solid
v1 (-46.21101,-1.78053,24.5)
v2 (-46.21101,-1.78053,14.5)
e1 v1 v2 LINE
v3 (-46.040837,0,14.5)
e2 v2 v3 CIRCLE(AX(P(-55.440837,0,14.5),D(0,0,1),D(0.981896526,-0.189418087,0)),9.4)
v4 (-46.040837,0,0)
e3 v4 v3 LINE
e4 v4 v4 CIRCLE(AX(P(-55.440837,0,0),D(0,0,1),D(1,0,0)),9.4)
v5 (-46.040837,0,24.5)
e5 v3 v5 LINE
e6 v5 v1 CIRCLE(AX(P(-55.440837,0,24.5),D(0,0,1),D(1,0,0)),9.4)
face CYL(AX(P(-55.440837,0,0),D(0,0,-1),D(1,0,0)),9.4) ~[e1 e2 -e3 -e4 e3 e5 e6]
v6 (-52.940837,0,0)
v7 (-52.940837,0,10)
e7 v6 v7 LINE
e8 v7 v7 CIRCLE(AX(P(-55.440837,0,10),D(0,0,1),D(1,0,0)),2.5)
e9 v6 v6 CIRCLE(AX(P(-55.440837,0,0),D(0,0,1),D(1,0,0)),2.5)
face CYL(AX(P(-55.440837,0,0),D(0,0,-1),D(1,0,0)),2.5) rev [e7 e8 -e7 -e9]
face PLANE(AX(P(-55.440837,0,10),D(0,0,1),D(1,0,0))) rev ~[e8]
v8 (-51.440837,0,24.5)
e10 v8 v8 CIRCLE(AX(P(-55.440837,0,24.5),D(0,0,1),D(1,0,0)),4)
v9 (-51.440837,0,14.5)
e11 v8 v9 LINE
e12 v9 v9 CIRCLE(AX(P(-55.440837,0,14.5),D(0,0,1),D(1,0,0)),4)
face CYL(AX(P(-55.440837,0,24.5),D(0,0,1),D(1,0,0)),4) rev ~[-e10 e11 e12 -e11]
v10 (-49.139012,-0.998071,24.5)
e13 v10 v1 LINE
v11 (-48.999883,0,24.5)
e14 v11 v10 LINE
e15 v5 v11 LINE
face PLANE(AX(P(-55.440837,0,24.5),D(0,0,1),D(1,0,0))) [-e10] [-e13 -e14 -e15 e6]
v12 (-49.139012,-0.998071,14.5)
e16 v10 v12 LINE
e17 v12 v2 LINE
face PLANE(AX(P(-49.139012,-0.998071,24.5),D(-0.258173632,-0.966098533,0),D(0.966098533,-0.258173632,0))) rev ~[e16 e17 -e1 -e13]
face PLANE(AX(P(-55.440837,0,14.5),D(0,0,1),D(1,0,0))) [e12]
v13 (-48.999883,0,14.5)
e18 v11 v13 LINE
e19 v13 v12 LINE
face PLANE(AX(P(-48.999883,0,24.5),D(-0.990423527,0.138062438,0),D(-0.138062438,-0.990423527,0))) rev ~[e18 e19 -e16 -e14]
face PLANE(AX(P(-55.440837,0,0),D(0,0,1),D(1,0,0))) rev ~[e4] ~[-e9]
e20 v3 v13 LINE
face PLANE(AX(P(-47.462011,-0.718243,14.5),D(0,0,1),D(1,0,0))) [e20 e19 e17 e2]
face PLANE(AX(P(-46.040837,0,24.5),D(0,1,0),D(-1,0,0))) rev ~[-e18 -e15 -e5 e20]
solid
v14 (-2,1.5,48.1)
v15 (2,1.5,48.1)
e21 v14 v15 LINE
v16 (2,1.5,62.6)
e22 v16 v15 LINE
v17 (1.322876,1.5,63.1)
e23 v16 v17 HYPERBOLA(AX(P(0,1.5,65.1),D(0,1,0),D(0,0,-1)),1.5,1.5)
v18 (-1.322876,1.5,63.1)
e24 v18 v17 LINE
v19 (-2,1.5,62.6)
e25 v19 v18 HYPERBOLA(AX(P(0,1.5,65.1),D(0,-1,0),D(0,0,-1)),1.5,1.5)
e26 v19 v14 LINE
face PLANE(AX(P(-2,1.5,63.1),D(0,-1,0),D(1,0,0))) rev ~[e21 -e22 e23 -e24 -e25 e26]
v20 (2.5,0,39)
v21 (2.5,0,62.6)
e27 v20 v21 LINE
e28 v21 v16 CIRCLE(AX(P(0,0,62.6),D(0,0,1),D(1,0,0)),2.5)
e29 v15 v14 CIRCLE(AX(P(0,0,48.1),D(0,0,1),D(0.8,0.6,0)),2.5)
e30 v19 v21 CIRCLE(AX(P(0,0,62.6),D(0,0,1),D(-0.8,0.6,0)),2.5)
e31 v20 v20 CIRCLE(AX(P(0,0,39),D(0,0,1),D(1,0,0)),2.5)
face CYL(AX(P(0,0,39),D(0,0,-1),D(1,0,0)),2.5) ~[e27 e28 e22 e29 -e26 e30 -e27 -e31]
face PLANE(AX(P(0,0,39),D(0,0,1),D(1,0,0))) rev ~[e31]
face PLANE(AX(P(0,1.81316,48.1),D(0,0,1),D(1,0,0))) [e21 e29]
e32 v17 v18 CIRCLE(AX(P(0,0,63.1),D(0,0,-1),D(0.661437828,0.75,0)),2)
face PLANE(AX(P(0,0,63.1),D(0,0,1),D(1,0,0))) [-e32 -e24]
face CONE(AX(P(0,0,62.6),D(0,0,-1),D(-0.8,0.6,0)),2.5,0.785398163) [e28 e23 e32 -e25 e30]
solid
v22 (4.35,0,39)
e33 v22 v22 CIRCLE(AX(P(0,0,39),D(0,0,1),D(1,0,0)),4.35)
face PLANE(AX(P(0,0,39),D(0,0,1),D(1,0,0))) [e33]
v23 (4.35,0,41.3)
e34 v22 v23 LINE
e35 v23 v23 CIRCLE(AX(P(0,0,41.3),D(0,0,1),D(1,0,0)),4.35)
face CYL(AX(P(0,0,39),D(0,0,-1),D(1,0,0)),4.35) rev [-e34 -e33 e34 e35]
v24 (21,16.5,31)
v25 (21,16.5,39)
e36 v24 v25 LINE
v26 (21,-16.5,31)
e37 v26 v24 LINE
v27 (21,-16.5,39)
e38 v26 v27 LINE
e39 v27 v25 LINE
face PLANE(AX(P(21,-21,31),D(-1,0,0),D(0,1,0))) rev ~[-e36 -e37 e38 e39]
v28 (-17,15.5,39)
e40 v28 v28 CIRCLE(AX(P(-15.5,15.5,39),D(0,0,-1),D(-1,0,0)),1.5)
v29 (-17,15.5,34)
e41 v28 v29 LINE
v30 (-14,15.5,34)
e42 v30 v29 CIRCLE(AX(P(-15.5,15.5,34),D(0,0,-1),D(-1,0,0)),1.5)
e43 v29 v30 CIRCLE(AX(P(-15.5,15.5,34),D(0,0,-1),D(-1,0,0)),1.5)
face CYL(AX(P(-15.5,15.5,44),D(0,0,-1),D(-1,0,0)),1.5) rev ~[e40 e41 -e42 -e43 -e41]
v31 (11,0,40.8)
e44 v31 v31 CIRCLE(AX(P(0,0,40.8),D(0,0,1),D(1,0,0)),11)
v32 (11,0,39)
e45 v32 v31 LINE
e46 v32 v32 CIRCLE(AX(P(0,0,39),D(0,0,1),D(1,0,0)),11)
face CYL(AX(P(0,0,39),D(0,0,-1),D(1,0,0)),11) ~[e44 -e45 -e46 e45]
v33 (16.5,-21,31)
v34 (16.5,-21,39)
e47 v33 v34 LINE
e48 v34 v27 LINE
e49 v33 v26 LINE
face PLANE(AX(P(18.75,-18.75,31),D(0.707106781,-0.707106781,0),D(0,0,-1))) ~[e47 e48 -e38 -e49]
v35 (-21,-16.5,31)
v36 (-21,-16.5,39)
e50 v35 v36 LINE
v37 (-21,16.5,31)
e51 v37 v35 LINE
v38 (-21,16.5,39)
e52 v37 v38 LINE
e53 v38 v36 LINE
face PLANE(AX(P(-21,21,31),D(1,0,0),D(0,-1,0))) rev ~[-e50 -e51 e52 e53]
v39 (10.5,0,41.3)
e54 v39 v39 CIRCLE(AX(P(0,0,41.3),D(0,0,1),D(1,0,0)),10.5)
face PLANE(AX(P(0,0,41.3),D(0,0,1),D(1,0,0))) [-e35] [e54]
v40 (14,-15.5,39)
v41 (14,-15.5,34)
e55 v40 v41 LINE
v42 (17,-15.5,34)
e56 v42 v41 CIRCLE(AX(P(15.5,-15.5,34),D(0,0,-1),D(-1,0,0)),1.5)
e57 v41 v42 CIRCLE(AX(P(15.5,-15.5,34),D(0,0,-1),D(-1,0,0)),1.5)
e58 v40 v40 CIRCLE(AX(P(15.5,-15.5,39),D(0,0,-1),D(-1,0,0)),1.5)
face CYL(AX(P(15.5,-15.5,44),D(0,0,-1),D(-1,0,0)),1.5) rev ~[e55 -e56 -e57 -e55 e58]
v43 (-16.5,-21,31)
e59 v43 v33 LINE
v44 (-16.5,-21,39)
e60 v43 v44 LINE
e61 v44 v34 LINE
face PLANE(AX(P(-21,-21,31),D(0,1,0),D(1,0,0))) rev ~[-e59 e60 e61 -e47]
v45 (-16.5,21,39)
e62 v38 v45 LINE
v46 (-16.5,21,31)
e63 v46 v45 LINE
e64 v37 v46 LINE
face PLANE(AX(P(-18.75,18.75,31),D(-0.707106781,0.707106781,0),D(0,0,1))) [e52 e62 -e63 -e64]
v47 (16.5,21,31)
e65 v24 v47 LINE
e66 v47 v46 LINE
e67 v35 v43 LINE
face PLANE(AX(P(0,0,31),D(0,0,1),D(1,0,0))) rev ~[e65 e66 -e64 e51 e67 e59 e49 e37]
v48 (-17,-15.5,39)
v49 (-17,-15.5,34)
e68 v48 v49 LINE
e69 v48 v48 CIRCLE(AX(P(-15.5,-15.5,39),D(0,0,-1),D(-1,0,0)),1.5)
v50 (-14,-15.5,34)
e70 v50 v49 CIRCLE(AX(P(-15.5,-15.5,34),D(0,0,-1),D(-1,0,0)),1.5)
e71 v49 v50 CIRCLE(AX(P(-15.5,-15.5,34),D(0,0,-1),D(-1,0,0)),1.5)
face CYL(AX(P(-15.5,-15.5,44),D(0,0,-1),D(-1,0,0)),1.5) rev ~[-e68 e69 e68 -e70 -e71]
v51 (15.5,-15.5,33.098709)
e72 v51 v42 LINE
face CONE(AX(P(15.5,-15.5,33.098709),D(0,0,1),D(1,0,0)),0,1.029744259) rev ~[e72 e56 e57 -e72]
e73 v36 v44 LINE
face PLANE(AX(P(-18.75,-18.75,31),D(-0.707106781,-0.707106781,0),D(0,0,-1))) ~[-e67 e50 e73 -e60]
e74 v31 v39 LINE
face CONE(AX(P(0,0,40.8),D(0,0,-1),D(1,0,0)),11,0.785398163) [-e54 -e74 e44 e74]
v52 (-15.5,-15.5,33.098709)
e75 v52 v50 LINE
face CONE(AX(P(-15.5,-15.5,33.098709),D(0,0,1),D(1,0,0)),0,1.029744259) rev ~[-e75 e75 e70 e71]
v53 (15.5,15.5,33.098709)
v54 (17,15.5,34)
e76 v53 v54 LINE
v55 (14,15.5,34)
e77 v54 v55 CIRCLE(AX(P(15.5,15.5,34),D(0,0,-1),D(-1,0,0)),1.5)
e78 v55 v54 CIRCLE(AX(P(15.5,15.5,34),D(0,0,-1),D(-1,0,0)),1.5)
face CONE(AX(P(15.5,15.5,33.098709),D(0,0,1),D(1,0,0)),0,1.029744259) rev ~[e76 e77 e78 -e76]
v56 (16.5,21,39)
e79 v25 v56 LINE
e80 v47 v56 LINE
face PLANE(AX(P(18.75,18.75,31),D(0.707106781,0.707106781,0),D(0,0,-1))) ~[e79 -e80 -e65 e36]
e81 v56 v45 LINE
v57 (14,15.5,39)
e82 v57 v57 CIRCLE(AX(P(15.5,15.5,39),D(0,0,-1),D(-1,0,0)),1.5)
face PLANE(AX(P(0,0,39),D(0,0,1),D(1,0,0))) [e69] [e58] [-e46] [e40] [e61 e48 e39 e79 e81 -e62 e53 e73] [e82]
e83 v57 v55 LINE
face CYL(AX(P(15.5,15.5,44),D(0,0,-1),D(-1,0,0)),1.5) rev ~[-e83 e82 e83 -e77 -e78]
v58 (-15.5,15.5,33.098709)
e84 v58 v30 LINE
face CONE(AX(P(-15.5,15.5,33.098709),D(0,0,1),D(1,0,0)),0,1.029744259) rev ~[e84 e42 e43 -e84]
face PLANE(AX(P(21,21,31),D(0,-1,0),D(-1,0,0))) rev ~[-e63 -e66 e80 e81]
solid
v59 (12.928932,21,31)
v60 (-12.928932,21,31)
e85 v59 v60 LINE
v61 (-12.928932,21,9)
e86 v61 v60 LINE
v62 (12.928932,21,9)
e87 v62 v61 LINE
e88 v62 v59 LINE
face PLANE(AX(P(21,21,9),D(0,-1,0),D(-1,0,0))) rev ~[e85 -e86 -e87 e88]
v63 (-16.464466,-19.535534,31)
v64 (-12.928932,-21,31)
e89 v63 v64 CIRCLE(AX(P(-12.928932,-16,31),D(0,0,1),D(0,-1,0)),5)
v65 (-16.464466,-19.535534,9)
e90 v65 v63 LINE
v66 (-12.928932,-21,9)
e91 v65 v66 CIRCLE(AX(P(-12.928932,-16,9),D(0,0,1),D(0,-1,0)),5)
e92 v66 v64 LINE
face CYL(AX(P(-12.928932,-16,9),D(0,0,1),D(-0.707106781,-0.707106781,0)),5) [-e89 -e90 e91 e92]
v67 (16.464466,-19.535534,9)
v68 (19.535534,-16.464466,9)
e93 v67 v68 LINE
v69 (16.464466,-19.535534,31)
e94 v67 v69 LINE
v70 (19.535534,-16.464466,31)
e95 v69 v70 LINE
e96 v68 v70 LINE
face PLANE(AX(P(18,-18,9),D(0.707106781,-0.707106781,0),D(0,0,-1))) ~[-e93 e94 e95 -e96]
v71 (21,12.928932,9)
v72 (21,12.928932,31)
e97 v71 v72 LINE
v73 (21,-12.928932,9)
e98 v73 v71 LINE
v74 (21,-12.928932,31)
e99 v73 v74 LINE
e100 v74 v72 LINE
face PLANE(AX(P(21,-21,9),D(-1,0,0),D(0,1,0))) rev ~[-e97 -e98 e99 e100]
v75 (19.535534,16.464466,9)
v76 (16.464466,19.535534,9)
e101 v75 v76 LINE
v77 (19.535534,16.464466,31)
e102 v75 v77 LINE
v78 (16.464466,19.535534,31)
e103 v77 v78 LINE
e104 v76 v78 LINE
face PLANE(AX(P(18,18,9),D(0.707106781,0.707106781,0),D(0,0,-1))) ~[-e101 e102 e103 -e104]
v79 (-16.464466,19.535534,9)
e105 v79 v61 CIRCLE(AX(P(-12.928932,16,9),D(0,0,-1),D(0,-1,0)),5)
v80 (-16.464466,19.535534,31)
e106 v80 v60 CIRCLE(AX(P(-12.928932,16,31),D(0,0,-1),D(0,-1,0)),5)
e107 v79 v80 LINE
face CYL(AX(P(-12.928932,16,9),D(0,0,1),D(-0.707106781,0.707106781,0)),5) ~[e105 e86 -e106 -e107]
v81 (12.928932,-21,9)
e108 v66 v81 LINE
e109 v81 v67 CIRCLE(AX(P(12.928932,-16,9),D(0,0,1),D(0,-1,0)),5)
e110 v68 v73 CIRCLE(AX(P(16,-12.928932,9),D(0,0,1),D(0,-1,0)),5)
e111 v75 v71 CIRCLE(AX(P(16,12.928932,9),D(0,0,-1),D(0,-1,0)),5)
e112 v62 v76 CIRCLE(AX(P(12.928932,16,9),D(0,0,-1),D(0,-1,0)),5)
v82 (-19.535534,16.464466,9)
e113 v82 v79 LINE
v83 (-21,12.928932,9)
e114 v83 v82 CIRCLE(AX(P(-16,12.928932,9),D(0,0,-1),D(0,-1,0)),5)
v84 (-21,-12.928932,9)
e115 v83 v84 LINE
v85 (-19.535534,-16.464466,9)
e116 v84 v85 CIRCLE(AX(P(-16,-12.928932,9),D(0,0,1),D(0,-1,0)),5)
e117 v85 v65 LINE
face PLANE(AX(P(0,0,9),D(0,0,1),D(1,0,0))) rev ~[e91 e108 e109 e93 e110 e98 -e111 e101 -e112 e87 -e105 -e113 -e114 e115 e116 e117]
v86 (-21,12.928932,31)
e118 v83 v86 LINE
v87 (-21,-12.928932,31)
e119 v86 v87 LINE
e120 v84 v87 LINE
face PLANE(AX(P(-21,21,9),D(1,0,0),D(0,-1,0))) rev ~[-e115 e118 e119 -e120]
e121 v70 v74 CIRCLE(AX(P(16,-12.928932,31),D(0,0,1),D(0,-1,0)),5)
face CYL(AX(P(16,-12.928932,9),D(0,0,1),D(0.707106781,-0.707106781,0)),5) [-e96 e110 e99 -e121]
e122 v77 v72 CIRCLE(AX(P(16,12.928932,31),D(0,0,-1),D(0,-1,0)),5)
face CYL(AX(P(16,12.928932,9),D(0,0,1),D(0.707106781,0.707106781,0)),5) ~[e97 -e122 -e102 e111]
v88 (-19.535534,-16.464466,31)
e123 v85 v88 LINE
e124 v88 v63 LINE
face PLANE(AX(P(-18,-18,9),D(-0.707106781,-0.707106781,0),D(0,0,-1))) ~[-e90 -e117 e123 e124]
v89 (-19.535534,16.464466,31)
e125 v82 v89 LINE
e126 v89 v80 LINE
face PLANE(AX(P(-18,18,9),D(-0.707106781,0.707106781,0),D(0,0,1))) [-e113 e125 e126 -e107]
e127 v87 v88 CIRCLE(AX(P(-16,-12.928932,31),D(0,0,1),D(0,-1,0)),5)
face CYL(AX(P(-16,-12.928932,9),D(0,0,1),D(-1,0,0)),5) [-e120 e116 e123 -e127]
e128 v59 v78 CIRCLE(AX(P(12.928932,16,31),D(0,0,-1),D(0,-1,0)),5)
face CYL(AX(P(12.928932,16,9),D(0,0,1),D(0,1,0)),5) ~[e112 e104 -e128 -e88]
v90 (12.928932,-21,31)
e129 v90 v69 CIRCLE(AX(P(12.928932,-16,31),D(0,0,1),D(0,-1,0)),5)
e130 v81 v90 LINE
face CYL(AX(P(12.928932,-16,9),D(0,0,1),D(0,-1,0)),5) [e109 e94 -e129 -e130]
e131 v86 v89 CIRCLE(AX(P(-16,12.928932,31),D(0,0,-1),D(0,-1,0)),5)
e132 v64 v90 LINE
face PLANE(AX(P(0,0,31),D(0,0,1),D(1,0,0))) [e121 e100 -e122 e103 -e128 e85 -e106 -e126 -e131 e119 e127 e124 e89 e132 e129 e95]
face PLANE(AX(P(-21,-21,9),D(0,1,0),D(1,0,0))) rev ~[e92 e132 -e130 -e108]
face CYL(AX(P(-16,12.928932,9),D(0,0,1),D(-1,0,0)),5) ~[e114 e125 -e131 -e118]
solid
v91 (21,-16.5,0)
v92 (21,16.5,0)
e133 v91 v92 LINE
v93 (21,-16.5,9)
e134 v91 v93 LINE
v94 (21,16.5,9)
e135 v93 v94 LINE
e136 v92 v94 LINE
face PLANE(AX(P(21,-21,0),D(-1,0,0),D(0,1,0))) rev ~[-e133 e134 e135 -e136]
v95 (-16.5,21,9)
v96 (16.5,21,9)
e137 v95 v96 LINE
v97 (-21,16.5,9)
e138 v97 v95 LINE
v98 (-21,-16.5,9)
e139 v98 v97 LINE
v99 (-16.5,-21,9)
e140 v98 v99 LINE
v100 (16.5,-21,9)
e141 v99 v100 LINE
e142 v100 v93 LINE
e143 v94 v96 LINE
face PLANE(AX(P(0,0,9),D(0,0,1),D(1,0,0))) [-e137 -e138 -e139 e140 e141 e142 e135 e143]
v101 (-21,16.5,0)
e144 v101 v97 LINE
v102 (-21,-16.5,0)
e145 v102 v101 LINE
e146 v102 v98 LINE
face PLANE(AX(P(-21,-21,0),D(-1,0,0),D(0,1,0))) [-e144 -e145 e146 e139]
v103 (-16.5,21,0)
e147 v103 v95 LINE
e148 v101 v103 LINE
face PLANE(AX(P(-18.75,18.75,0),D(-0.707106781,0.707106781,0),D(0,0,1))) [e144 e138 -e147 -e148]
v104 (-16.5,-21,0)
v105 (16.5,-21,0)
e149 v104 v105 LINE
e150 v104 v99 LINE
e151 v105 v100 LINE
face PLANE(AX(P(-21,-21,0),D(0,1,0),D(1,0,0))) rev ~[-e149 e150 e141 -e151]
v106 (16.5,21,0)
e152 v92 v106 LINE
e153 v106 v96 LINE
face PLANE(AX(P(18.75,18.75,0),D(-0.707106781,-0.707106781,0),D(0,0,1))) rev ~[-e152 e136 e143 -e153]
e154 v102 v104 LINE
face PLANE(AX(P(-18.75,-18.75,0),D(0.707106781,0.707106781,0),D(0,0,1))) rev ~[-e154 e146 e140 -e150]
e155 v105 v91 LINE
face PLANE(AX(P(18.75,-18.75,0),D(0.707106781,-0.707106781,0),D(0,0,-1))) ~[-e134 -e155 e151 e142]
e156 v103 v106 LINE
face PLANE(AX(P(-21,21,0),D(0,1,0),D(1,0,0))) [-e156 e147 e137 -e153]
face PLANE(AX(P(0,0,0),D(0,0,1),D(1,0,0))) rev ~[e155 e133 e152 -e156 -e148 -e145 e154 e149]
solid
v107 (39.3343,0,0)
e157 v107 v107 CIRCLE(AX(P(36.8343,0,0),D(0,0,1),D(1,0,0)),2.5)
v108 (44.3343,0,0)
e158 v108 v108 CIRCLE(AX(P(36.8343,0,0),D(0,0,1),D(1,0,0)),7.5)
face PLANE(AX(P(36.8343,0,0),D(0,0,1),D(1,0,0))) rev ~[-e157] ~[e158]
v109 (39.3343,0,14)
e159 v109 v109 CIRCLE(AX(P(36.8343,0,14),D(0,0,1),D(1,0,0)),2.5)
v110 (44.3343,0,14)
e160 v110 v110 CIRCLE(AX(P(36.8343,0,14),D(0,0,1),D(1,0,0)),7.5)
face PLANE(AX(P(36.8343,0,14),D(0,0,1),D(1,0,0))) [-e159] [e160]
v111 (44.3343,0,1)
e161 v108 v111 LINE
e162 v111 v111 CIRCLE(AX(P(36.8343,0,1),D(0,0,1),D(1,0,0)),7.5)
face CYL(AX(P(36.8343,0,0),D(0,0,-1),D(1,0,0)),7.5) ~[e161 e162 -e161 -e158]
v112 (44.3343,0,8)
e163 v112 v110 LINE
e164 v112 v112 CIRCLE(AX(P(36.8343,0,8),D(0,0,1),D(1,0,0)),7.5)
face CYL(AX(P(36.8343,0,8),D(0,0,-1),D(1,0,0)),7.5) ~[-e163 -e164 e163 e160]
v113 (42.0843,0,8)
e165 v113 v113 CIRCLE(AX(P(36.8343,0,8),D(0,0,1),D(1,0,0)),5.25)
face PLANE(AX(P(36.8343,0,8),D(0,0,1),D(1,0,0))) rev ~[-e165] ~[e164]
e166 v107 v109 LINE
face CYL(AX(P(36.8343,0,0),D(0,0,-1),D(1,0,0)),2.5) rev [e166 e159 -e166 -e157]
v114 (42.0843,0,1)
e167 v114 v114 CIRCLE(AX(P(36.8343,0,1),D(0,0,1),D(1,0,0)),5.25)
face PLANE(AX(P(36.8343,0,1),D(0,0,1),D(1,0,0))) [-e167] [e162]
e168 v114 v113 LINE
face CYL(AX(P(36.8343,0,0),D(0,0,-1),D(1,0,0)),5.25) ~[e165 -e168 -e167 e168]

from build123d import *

# Parameters (mm, degrees)
F0_W      = 42
F0_H      = 42
F1_DEPTH  = 9
F2_SIZE   = 4.5
F4_DEPTH  = 22
F5_SIZE   = 6
F6_R      = 5
F8_DEPTH  = 8
F9_SIZE   = 4.5
F10_R     = 11
F10_R_2   = 4.35
F11_DEPTH = 2.3
F10_R_3   = 2.5
F12_DEPTH = 24.1
F14_DEPTH = 15
F15_SIZE  = 0.5
F16_SIZE  = 0.5
F17_D     = 3
F17_DEPTH = 5
F17_TIP   = 0.9012909285
F18_R     = 9.4
F18_R_2   = 2.5
F19_DEPTH = 24.5
F20_DEPTH = 10
F21_R     = 4
F22_DEPTH = 10
F23_R     = 7.5
F23_R_2   = 5.25
F24_DEPTH = 1
F23_R_3   = 2.5
F25_DEPTH = 8
F26_R     = 7.5
F26_R_2   = 5.25
F27_DEPTH = 6
F28_DEPTH = 14


with BuildPart() as f1:
    # F0 (on Top) → F1 (new body)
    with BuildSketch(Plane.XY):
        Rectangle(F0_W, F0_H)
    extrude(amount=F1_DEPTH)

    # F2
    f2_edges = [f1.edges().sort_by_distance(p)[0] for p in [
        (-21, -21, 4.5),
        (21, -21, 4.5),
        (-21, 21, 4.5),
        (21, 21, 4.5),
    ]]
    chamfer(f2_edges, length=F2_SIZE)


with BuildPart() as f4:
    # F3 (on face) → F4 (new body)
    with BuildSketch(Plane.XY.offset(9)):
        Polygon((21, 16.5), (16.5, 21), (-16.5, 21), (-21, 16.5), (-21, -16.5), (-16.5, -21), (16.5, -21), (21, -16.5), align=None)
        Polygon((-21, 16.5), (-16.5, 21), (-21, 21), align=None)
        Polygon((21, 16.5), (21, 21), (16.5, 21), align=None)
        Polygon((-16.5, -21), (-21, -16.5), (-21, -21), align=None)
        Polygon((21, -21), (21, -16.5), (16.5, -21), align=None)
    extrude(amount=F4_DEPTH)

    # F5
    f5_edges = [f4.edges().sort_by_distance(p)[0] for p in [
        (-21, 21, 20),
        (-21, -21, 20),
        (21, 21, 20),
        (21, -21, 20),
    ]]
    chamfer(f5_edges, length=F5_SIZE)

    # F6
    f6_edges = [f4.edges().sort_by_distance(p)[0] for p in [
        (-15, 21, 20),
        (-21, 15, 20),
        (-21, -15, 20),
        (-15, -21, 20),
        (15, -21, 20),
        (21, -15, 20),
        (21, 15, 20),
        (15, 21, 20),
    ]]
    fillet(f6_edges, radius=F6_R)


with BuildPart() as f8:
    # F7 (on face) → F8 (new body)
    with BuildSketch(Plane.XY.offset(31)):
        with BuildLine():
            Line((12.9289321881, 21), (-12.9289321881, 21))
            ThreePointArc((-12.9289321881, 21), (-14.84234935, 20.6193976626), (-16.4644660941, 19.5355339059))
            Line((-16.4644660941, 19.5355339059), (-19.5355339059, 16.4644660941))
            ThreePointArc((-19.5355339059, 16.4644660941), (-20.6193976626, 14.84234935), (-21, 12.9289321881))
            Line((-21, 12.9289321881), (-21, -12.9289321881))
            ThreePointArc((-21, -12.9289321881), (-20.6193976626, -14.84234935), (-19.5355339059, -16.4644660941))
            Line((-19.5355339059, -16.4644660941), (-16.4644660941, -19.5355339059))
            ThreePointArc((-16.4644660941, -19.5355339059), (-14.84234935, -20.6193976626), (-12.9289321881, -21))
            Line((-12.9289321881, -21), (12.9289321881, -21))
            ThreePointArc((12.9289321881, -21), (14.84234935, -20.6193976626), (16.4644660941, -19.5355339059))
            Line((16.4644660941, -19.5355339059), (19.5355339059, -16.4644660941))
            ThreePointArc((19.5355339059, -16.4644660941), (20.6193976626, -14.84234935), (21, -12.9289321881))
            Line((21, -12.9289321881), (21, 12.9289321881))
            ThreePointArc((21, 12.9289321881), (20.6193976626, 14.84234935), (19.5355339059, 16.4644660941))
            Line((19.5355339059, 16.4644660941), (16.4644660941, 19.5355339059))
            ThreePointArc((16.4644660941, 19.5355339059), (14.84234935, 20.6193976626), (12.9289321881, 21))
        make_face()
        with BuildLine():
            Line((-12.9289321881, 21), (-21, 21))
            Line((-21, 21), (-21, 12.9289321881))
            ThreePointArc((-21, 12.9289321881), (-20.6193976626, 14.84234935), (-19.5355339059, 16.4644660941))
            Line((-19.5355339059, 16.4644660941), (-16.4644660941, 19.5355339059))
            ThreePointArc((-16.4644660941, 19.5355339059), (-14.84234935, 20.6193976626), (-12.9289321881, 21))
        make_face()
        with BuildLine():
            Line((21, 21), (12.9289321881, 21))
            ThreePointArc((12.9289321881, 21), (14.84234935, 20.6193976626), (16.4644660941, 19.5355339059))
            Line((16.4644660941, 19.5355339059), (19.5355339059, 16.4644660941))
            ThreePointArc((19.5355339059, 16.4644660941), (20.6193976626, 14.84234935), (21, 12.9289321881))
            Line((21, 12.9289321881), (21, 21))
        make_face()
        with BuildLine():
            ThreePointArc((-19.5355339059, -16.4644660941), (-20.6193976626, -14.84234935), (-21, -12.9289321881))
            Line((-21, -12.9289321881), (-21, -21))
            Line((-21, -21), (-12.9289321881, -21))
            ThreePointArc((-12.9289321881, -21), (-14.84234935, -20.6193976626), (-16.4644660941, -19.5355339059))
            Line((-16.4644660941, -19.5355339059), (-19.5355339059, -16.4644660941))
        make_face()
        with BuildLine():
            Line((21, -21), (21, -12.9289321881))
            ThreePointArc((21, -12.9289321881), (20.6193976626, -14.84234935), (19.5355339059, -16.4644660941))
            Line((19.5355339059, -16.4644660941), (16.4644660941, -19.5355339059))
            ThreePointArc((16.4644660941, -19.5355339059), (14.84234935, -20.6193976626), (12.9289321881, -21))
            Line((12.9289321881, -21), (21, -21))
        make_face()
    extrude(amount=F8_DEPTH)

    # F9
    f9_edges = [f8.edges().sort_by_distance(p)[0] for p in [
        (-21, 21, 35),
        (21, 21, 35),
        (-21, -21, 35),
        (21, -21, 35),
    ]]
    chamfer(f9_edges, length=F9_SIZE)

    # F10 (on face) → F11 (join)
    with BuildSketch(Plane.XY.offset(39)):
        Circle(F10_R)
        Circle(F10_R_2, mode=Mode.SUBTRACT)
    extrude(amount=F11_DEPTH)

    # F16
    f16_edges = [f8.edges().sort_by_distance(p)[0] for p in [
        (-11, 0, 41.3),
    ]]
    chamfer(f16_edges, length=F16_SIZE)

    # F17
    with Locations(Plane.XY.offset(39)):
        with Locations((-15.5, 15.5), (15.5, 15.5), (15.5, -15.5), (-15.5, -15.5)):
            Hole(F17_D / 2, depth=F17_DEPTH)
            with Locations((0, 0, -(F17_DEPTH + F17_TIP / 2))):  # 118° drill point
                Cone(0, F17_D / 2, F17_TIP, mode=Mode.SUBTRACT)


with BuildPart() as f12:
    # F10 (on face) → F12 (new body)
    with BuildSketch(Plane.XY.offset(39)):
        Circle(F10_R_3)
    extrude(amount=F12_DEPTH)

    # F13 (on face) → F14 (cut)
    with BuildSketch(Plane.XY.offset(63.1)):
        with BuildLine():
            ThreePointArc((2, 1.5), (0, 2.5), (-2, 1.5))
            Line((-2, 1.5), (2, 1.5))
        make_face()
    extrude(amount=-F14_DEPTH, mode=Mode.SUBTRACT)

    # F15
    f15_edges = [f12.edges().sort_by_distance(p)[0] for p in [
        (-0.790569, -2.371708, 63.1),
    ]]
    chamfer(f15_edges, length=F15_SIZE)


with BuildPart() as f19:
    # F18 (on Top) → F19 (new body)
    with BuildSketch(Plane.XY):
        with Locations((-55.4408369965, 0)):
            Circle(F18_R)
        with Locations((-55.4408369965, 0)):
            Circle(F18_R_2, mode=Mode.SUBTRACT)
        with Locations((-55.4408369965, 0)):
            Circle(F18_R_2)
    extrude(amount=F19_DEPTH)

    # F18 (on Top) → F20 (cut)
    with BuildSketch(Plane.XY):
        with Locations((-55.4408369965, 0)):
            Circle(F18_R_2)
    extrude(amount=F20_DEPTH, mode=Mode.SUBTRACT)

    # F21 (on face) → F22 (cut)
    with BuildSketch(Plane.XY.offset(24.5)):
        with Locations((-55.4408369965, 0)):
            Circle(F21_R)
        with BuildLine():
            ThreePointArc((-46.211009649, -1.7805300153), (-46.0834768702, -0.8943217915), (-46.0408369965, 0))
            Line((-46.0408369965, 0), (-48.9998832345, 0))
            Line((-48.9998832345, 0), (-49.1390116513, -0.99807058))
            Line((-49.1390116513, -0.99807058), (-46.211009649, -1.7805300153))
        make_face()
    extrude(amount=-F22_DEPTH, mode=Mode.SUBTRACT)


with BuildPart() as f24:
    # F23 (on Top) → F24 (new body)
    with BuildSketch(Plane.XY):
        with Locations((36.8342996833, 0)):
            Circle(F23_R)
        with Locations((36.8342996833, 0)):
            Circle(F23_R_2, mode=Mode.SUBTRACT)
    extrude(amount=F24_DEPTH)

    # F23 (on Top) → F25 (join)
    with BuildSketch(Plane.XY):
        with Locations((36.8342996833, 0)):
            Circle(F23_R_2)
        with Locations((36.8342996833, 0)):
            Circle(F23_R_3, mode=Mode.SUBTRACT)
        with Locations((36.8342996833, 0)):
            Circle(F23_R_3)
    extrude(amount=F25_DEPTH)

    # F26 (on face) → F27 (join)
    with BuildSketch(Plane.XY.offset(8)):
        with Locations((36.8342996833, 0)):
            Circle(F26_R)
        with Locations((36.8342996833, 0)):
            Circle(F26_R_2, mode=Mode.SUBTRACT)
        with Locations((36.8342996833, 0)):
            Circle(F26_R_2)
    extrude(amount=F27_DEPTH)

    # F23 (on Top) → F28 (cut, through all)
    with BuildSketch(Plane.XY):
        with Locations((36.8342996833, 0)):
            Circle(F23_R_3)
    extrude(amount=F28_DEPTH, mode=Mode.SUBTRACT)


solid = Compound([f1.part, f4.part, f8.part, f12.part, f19.part, f24.part])
